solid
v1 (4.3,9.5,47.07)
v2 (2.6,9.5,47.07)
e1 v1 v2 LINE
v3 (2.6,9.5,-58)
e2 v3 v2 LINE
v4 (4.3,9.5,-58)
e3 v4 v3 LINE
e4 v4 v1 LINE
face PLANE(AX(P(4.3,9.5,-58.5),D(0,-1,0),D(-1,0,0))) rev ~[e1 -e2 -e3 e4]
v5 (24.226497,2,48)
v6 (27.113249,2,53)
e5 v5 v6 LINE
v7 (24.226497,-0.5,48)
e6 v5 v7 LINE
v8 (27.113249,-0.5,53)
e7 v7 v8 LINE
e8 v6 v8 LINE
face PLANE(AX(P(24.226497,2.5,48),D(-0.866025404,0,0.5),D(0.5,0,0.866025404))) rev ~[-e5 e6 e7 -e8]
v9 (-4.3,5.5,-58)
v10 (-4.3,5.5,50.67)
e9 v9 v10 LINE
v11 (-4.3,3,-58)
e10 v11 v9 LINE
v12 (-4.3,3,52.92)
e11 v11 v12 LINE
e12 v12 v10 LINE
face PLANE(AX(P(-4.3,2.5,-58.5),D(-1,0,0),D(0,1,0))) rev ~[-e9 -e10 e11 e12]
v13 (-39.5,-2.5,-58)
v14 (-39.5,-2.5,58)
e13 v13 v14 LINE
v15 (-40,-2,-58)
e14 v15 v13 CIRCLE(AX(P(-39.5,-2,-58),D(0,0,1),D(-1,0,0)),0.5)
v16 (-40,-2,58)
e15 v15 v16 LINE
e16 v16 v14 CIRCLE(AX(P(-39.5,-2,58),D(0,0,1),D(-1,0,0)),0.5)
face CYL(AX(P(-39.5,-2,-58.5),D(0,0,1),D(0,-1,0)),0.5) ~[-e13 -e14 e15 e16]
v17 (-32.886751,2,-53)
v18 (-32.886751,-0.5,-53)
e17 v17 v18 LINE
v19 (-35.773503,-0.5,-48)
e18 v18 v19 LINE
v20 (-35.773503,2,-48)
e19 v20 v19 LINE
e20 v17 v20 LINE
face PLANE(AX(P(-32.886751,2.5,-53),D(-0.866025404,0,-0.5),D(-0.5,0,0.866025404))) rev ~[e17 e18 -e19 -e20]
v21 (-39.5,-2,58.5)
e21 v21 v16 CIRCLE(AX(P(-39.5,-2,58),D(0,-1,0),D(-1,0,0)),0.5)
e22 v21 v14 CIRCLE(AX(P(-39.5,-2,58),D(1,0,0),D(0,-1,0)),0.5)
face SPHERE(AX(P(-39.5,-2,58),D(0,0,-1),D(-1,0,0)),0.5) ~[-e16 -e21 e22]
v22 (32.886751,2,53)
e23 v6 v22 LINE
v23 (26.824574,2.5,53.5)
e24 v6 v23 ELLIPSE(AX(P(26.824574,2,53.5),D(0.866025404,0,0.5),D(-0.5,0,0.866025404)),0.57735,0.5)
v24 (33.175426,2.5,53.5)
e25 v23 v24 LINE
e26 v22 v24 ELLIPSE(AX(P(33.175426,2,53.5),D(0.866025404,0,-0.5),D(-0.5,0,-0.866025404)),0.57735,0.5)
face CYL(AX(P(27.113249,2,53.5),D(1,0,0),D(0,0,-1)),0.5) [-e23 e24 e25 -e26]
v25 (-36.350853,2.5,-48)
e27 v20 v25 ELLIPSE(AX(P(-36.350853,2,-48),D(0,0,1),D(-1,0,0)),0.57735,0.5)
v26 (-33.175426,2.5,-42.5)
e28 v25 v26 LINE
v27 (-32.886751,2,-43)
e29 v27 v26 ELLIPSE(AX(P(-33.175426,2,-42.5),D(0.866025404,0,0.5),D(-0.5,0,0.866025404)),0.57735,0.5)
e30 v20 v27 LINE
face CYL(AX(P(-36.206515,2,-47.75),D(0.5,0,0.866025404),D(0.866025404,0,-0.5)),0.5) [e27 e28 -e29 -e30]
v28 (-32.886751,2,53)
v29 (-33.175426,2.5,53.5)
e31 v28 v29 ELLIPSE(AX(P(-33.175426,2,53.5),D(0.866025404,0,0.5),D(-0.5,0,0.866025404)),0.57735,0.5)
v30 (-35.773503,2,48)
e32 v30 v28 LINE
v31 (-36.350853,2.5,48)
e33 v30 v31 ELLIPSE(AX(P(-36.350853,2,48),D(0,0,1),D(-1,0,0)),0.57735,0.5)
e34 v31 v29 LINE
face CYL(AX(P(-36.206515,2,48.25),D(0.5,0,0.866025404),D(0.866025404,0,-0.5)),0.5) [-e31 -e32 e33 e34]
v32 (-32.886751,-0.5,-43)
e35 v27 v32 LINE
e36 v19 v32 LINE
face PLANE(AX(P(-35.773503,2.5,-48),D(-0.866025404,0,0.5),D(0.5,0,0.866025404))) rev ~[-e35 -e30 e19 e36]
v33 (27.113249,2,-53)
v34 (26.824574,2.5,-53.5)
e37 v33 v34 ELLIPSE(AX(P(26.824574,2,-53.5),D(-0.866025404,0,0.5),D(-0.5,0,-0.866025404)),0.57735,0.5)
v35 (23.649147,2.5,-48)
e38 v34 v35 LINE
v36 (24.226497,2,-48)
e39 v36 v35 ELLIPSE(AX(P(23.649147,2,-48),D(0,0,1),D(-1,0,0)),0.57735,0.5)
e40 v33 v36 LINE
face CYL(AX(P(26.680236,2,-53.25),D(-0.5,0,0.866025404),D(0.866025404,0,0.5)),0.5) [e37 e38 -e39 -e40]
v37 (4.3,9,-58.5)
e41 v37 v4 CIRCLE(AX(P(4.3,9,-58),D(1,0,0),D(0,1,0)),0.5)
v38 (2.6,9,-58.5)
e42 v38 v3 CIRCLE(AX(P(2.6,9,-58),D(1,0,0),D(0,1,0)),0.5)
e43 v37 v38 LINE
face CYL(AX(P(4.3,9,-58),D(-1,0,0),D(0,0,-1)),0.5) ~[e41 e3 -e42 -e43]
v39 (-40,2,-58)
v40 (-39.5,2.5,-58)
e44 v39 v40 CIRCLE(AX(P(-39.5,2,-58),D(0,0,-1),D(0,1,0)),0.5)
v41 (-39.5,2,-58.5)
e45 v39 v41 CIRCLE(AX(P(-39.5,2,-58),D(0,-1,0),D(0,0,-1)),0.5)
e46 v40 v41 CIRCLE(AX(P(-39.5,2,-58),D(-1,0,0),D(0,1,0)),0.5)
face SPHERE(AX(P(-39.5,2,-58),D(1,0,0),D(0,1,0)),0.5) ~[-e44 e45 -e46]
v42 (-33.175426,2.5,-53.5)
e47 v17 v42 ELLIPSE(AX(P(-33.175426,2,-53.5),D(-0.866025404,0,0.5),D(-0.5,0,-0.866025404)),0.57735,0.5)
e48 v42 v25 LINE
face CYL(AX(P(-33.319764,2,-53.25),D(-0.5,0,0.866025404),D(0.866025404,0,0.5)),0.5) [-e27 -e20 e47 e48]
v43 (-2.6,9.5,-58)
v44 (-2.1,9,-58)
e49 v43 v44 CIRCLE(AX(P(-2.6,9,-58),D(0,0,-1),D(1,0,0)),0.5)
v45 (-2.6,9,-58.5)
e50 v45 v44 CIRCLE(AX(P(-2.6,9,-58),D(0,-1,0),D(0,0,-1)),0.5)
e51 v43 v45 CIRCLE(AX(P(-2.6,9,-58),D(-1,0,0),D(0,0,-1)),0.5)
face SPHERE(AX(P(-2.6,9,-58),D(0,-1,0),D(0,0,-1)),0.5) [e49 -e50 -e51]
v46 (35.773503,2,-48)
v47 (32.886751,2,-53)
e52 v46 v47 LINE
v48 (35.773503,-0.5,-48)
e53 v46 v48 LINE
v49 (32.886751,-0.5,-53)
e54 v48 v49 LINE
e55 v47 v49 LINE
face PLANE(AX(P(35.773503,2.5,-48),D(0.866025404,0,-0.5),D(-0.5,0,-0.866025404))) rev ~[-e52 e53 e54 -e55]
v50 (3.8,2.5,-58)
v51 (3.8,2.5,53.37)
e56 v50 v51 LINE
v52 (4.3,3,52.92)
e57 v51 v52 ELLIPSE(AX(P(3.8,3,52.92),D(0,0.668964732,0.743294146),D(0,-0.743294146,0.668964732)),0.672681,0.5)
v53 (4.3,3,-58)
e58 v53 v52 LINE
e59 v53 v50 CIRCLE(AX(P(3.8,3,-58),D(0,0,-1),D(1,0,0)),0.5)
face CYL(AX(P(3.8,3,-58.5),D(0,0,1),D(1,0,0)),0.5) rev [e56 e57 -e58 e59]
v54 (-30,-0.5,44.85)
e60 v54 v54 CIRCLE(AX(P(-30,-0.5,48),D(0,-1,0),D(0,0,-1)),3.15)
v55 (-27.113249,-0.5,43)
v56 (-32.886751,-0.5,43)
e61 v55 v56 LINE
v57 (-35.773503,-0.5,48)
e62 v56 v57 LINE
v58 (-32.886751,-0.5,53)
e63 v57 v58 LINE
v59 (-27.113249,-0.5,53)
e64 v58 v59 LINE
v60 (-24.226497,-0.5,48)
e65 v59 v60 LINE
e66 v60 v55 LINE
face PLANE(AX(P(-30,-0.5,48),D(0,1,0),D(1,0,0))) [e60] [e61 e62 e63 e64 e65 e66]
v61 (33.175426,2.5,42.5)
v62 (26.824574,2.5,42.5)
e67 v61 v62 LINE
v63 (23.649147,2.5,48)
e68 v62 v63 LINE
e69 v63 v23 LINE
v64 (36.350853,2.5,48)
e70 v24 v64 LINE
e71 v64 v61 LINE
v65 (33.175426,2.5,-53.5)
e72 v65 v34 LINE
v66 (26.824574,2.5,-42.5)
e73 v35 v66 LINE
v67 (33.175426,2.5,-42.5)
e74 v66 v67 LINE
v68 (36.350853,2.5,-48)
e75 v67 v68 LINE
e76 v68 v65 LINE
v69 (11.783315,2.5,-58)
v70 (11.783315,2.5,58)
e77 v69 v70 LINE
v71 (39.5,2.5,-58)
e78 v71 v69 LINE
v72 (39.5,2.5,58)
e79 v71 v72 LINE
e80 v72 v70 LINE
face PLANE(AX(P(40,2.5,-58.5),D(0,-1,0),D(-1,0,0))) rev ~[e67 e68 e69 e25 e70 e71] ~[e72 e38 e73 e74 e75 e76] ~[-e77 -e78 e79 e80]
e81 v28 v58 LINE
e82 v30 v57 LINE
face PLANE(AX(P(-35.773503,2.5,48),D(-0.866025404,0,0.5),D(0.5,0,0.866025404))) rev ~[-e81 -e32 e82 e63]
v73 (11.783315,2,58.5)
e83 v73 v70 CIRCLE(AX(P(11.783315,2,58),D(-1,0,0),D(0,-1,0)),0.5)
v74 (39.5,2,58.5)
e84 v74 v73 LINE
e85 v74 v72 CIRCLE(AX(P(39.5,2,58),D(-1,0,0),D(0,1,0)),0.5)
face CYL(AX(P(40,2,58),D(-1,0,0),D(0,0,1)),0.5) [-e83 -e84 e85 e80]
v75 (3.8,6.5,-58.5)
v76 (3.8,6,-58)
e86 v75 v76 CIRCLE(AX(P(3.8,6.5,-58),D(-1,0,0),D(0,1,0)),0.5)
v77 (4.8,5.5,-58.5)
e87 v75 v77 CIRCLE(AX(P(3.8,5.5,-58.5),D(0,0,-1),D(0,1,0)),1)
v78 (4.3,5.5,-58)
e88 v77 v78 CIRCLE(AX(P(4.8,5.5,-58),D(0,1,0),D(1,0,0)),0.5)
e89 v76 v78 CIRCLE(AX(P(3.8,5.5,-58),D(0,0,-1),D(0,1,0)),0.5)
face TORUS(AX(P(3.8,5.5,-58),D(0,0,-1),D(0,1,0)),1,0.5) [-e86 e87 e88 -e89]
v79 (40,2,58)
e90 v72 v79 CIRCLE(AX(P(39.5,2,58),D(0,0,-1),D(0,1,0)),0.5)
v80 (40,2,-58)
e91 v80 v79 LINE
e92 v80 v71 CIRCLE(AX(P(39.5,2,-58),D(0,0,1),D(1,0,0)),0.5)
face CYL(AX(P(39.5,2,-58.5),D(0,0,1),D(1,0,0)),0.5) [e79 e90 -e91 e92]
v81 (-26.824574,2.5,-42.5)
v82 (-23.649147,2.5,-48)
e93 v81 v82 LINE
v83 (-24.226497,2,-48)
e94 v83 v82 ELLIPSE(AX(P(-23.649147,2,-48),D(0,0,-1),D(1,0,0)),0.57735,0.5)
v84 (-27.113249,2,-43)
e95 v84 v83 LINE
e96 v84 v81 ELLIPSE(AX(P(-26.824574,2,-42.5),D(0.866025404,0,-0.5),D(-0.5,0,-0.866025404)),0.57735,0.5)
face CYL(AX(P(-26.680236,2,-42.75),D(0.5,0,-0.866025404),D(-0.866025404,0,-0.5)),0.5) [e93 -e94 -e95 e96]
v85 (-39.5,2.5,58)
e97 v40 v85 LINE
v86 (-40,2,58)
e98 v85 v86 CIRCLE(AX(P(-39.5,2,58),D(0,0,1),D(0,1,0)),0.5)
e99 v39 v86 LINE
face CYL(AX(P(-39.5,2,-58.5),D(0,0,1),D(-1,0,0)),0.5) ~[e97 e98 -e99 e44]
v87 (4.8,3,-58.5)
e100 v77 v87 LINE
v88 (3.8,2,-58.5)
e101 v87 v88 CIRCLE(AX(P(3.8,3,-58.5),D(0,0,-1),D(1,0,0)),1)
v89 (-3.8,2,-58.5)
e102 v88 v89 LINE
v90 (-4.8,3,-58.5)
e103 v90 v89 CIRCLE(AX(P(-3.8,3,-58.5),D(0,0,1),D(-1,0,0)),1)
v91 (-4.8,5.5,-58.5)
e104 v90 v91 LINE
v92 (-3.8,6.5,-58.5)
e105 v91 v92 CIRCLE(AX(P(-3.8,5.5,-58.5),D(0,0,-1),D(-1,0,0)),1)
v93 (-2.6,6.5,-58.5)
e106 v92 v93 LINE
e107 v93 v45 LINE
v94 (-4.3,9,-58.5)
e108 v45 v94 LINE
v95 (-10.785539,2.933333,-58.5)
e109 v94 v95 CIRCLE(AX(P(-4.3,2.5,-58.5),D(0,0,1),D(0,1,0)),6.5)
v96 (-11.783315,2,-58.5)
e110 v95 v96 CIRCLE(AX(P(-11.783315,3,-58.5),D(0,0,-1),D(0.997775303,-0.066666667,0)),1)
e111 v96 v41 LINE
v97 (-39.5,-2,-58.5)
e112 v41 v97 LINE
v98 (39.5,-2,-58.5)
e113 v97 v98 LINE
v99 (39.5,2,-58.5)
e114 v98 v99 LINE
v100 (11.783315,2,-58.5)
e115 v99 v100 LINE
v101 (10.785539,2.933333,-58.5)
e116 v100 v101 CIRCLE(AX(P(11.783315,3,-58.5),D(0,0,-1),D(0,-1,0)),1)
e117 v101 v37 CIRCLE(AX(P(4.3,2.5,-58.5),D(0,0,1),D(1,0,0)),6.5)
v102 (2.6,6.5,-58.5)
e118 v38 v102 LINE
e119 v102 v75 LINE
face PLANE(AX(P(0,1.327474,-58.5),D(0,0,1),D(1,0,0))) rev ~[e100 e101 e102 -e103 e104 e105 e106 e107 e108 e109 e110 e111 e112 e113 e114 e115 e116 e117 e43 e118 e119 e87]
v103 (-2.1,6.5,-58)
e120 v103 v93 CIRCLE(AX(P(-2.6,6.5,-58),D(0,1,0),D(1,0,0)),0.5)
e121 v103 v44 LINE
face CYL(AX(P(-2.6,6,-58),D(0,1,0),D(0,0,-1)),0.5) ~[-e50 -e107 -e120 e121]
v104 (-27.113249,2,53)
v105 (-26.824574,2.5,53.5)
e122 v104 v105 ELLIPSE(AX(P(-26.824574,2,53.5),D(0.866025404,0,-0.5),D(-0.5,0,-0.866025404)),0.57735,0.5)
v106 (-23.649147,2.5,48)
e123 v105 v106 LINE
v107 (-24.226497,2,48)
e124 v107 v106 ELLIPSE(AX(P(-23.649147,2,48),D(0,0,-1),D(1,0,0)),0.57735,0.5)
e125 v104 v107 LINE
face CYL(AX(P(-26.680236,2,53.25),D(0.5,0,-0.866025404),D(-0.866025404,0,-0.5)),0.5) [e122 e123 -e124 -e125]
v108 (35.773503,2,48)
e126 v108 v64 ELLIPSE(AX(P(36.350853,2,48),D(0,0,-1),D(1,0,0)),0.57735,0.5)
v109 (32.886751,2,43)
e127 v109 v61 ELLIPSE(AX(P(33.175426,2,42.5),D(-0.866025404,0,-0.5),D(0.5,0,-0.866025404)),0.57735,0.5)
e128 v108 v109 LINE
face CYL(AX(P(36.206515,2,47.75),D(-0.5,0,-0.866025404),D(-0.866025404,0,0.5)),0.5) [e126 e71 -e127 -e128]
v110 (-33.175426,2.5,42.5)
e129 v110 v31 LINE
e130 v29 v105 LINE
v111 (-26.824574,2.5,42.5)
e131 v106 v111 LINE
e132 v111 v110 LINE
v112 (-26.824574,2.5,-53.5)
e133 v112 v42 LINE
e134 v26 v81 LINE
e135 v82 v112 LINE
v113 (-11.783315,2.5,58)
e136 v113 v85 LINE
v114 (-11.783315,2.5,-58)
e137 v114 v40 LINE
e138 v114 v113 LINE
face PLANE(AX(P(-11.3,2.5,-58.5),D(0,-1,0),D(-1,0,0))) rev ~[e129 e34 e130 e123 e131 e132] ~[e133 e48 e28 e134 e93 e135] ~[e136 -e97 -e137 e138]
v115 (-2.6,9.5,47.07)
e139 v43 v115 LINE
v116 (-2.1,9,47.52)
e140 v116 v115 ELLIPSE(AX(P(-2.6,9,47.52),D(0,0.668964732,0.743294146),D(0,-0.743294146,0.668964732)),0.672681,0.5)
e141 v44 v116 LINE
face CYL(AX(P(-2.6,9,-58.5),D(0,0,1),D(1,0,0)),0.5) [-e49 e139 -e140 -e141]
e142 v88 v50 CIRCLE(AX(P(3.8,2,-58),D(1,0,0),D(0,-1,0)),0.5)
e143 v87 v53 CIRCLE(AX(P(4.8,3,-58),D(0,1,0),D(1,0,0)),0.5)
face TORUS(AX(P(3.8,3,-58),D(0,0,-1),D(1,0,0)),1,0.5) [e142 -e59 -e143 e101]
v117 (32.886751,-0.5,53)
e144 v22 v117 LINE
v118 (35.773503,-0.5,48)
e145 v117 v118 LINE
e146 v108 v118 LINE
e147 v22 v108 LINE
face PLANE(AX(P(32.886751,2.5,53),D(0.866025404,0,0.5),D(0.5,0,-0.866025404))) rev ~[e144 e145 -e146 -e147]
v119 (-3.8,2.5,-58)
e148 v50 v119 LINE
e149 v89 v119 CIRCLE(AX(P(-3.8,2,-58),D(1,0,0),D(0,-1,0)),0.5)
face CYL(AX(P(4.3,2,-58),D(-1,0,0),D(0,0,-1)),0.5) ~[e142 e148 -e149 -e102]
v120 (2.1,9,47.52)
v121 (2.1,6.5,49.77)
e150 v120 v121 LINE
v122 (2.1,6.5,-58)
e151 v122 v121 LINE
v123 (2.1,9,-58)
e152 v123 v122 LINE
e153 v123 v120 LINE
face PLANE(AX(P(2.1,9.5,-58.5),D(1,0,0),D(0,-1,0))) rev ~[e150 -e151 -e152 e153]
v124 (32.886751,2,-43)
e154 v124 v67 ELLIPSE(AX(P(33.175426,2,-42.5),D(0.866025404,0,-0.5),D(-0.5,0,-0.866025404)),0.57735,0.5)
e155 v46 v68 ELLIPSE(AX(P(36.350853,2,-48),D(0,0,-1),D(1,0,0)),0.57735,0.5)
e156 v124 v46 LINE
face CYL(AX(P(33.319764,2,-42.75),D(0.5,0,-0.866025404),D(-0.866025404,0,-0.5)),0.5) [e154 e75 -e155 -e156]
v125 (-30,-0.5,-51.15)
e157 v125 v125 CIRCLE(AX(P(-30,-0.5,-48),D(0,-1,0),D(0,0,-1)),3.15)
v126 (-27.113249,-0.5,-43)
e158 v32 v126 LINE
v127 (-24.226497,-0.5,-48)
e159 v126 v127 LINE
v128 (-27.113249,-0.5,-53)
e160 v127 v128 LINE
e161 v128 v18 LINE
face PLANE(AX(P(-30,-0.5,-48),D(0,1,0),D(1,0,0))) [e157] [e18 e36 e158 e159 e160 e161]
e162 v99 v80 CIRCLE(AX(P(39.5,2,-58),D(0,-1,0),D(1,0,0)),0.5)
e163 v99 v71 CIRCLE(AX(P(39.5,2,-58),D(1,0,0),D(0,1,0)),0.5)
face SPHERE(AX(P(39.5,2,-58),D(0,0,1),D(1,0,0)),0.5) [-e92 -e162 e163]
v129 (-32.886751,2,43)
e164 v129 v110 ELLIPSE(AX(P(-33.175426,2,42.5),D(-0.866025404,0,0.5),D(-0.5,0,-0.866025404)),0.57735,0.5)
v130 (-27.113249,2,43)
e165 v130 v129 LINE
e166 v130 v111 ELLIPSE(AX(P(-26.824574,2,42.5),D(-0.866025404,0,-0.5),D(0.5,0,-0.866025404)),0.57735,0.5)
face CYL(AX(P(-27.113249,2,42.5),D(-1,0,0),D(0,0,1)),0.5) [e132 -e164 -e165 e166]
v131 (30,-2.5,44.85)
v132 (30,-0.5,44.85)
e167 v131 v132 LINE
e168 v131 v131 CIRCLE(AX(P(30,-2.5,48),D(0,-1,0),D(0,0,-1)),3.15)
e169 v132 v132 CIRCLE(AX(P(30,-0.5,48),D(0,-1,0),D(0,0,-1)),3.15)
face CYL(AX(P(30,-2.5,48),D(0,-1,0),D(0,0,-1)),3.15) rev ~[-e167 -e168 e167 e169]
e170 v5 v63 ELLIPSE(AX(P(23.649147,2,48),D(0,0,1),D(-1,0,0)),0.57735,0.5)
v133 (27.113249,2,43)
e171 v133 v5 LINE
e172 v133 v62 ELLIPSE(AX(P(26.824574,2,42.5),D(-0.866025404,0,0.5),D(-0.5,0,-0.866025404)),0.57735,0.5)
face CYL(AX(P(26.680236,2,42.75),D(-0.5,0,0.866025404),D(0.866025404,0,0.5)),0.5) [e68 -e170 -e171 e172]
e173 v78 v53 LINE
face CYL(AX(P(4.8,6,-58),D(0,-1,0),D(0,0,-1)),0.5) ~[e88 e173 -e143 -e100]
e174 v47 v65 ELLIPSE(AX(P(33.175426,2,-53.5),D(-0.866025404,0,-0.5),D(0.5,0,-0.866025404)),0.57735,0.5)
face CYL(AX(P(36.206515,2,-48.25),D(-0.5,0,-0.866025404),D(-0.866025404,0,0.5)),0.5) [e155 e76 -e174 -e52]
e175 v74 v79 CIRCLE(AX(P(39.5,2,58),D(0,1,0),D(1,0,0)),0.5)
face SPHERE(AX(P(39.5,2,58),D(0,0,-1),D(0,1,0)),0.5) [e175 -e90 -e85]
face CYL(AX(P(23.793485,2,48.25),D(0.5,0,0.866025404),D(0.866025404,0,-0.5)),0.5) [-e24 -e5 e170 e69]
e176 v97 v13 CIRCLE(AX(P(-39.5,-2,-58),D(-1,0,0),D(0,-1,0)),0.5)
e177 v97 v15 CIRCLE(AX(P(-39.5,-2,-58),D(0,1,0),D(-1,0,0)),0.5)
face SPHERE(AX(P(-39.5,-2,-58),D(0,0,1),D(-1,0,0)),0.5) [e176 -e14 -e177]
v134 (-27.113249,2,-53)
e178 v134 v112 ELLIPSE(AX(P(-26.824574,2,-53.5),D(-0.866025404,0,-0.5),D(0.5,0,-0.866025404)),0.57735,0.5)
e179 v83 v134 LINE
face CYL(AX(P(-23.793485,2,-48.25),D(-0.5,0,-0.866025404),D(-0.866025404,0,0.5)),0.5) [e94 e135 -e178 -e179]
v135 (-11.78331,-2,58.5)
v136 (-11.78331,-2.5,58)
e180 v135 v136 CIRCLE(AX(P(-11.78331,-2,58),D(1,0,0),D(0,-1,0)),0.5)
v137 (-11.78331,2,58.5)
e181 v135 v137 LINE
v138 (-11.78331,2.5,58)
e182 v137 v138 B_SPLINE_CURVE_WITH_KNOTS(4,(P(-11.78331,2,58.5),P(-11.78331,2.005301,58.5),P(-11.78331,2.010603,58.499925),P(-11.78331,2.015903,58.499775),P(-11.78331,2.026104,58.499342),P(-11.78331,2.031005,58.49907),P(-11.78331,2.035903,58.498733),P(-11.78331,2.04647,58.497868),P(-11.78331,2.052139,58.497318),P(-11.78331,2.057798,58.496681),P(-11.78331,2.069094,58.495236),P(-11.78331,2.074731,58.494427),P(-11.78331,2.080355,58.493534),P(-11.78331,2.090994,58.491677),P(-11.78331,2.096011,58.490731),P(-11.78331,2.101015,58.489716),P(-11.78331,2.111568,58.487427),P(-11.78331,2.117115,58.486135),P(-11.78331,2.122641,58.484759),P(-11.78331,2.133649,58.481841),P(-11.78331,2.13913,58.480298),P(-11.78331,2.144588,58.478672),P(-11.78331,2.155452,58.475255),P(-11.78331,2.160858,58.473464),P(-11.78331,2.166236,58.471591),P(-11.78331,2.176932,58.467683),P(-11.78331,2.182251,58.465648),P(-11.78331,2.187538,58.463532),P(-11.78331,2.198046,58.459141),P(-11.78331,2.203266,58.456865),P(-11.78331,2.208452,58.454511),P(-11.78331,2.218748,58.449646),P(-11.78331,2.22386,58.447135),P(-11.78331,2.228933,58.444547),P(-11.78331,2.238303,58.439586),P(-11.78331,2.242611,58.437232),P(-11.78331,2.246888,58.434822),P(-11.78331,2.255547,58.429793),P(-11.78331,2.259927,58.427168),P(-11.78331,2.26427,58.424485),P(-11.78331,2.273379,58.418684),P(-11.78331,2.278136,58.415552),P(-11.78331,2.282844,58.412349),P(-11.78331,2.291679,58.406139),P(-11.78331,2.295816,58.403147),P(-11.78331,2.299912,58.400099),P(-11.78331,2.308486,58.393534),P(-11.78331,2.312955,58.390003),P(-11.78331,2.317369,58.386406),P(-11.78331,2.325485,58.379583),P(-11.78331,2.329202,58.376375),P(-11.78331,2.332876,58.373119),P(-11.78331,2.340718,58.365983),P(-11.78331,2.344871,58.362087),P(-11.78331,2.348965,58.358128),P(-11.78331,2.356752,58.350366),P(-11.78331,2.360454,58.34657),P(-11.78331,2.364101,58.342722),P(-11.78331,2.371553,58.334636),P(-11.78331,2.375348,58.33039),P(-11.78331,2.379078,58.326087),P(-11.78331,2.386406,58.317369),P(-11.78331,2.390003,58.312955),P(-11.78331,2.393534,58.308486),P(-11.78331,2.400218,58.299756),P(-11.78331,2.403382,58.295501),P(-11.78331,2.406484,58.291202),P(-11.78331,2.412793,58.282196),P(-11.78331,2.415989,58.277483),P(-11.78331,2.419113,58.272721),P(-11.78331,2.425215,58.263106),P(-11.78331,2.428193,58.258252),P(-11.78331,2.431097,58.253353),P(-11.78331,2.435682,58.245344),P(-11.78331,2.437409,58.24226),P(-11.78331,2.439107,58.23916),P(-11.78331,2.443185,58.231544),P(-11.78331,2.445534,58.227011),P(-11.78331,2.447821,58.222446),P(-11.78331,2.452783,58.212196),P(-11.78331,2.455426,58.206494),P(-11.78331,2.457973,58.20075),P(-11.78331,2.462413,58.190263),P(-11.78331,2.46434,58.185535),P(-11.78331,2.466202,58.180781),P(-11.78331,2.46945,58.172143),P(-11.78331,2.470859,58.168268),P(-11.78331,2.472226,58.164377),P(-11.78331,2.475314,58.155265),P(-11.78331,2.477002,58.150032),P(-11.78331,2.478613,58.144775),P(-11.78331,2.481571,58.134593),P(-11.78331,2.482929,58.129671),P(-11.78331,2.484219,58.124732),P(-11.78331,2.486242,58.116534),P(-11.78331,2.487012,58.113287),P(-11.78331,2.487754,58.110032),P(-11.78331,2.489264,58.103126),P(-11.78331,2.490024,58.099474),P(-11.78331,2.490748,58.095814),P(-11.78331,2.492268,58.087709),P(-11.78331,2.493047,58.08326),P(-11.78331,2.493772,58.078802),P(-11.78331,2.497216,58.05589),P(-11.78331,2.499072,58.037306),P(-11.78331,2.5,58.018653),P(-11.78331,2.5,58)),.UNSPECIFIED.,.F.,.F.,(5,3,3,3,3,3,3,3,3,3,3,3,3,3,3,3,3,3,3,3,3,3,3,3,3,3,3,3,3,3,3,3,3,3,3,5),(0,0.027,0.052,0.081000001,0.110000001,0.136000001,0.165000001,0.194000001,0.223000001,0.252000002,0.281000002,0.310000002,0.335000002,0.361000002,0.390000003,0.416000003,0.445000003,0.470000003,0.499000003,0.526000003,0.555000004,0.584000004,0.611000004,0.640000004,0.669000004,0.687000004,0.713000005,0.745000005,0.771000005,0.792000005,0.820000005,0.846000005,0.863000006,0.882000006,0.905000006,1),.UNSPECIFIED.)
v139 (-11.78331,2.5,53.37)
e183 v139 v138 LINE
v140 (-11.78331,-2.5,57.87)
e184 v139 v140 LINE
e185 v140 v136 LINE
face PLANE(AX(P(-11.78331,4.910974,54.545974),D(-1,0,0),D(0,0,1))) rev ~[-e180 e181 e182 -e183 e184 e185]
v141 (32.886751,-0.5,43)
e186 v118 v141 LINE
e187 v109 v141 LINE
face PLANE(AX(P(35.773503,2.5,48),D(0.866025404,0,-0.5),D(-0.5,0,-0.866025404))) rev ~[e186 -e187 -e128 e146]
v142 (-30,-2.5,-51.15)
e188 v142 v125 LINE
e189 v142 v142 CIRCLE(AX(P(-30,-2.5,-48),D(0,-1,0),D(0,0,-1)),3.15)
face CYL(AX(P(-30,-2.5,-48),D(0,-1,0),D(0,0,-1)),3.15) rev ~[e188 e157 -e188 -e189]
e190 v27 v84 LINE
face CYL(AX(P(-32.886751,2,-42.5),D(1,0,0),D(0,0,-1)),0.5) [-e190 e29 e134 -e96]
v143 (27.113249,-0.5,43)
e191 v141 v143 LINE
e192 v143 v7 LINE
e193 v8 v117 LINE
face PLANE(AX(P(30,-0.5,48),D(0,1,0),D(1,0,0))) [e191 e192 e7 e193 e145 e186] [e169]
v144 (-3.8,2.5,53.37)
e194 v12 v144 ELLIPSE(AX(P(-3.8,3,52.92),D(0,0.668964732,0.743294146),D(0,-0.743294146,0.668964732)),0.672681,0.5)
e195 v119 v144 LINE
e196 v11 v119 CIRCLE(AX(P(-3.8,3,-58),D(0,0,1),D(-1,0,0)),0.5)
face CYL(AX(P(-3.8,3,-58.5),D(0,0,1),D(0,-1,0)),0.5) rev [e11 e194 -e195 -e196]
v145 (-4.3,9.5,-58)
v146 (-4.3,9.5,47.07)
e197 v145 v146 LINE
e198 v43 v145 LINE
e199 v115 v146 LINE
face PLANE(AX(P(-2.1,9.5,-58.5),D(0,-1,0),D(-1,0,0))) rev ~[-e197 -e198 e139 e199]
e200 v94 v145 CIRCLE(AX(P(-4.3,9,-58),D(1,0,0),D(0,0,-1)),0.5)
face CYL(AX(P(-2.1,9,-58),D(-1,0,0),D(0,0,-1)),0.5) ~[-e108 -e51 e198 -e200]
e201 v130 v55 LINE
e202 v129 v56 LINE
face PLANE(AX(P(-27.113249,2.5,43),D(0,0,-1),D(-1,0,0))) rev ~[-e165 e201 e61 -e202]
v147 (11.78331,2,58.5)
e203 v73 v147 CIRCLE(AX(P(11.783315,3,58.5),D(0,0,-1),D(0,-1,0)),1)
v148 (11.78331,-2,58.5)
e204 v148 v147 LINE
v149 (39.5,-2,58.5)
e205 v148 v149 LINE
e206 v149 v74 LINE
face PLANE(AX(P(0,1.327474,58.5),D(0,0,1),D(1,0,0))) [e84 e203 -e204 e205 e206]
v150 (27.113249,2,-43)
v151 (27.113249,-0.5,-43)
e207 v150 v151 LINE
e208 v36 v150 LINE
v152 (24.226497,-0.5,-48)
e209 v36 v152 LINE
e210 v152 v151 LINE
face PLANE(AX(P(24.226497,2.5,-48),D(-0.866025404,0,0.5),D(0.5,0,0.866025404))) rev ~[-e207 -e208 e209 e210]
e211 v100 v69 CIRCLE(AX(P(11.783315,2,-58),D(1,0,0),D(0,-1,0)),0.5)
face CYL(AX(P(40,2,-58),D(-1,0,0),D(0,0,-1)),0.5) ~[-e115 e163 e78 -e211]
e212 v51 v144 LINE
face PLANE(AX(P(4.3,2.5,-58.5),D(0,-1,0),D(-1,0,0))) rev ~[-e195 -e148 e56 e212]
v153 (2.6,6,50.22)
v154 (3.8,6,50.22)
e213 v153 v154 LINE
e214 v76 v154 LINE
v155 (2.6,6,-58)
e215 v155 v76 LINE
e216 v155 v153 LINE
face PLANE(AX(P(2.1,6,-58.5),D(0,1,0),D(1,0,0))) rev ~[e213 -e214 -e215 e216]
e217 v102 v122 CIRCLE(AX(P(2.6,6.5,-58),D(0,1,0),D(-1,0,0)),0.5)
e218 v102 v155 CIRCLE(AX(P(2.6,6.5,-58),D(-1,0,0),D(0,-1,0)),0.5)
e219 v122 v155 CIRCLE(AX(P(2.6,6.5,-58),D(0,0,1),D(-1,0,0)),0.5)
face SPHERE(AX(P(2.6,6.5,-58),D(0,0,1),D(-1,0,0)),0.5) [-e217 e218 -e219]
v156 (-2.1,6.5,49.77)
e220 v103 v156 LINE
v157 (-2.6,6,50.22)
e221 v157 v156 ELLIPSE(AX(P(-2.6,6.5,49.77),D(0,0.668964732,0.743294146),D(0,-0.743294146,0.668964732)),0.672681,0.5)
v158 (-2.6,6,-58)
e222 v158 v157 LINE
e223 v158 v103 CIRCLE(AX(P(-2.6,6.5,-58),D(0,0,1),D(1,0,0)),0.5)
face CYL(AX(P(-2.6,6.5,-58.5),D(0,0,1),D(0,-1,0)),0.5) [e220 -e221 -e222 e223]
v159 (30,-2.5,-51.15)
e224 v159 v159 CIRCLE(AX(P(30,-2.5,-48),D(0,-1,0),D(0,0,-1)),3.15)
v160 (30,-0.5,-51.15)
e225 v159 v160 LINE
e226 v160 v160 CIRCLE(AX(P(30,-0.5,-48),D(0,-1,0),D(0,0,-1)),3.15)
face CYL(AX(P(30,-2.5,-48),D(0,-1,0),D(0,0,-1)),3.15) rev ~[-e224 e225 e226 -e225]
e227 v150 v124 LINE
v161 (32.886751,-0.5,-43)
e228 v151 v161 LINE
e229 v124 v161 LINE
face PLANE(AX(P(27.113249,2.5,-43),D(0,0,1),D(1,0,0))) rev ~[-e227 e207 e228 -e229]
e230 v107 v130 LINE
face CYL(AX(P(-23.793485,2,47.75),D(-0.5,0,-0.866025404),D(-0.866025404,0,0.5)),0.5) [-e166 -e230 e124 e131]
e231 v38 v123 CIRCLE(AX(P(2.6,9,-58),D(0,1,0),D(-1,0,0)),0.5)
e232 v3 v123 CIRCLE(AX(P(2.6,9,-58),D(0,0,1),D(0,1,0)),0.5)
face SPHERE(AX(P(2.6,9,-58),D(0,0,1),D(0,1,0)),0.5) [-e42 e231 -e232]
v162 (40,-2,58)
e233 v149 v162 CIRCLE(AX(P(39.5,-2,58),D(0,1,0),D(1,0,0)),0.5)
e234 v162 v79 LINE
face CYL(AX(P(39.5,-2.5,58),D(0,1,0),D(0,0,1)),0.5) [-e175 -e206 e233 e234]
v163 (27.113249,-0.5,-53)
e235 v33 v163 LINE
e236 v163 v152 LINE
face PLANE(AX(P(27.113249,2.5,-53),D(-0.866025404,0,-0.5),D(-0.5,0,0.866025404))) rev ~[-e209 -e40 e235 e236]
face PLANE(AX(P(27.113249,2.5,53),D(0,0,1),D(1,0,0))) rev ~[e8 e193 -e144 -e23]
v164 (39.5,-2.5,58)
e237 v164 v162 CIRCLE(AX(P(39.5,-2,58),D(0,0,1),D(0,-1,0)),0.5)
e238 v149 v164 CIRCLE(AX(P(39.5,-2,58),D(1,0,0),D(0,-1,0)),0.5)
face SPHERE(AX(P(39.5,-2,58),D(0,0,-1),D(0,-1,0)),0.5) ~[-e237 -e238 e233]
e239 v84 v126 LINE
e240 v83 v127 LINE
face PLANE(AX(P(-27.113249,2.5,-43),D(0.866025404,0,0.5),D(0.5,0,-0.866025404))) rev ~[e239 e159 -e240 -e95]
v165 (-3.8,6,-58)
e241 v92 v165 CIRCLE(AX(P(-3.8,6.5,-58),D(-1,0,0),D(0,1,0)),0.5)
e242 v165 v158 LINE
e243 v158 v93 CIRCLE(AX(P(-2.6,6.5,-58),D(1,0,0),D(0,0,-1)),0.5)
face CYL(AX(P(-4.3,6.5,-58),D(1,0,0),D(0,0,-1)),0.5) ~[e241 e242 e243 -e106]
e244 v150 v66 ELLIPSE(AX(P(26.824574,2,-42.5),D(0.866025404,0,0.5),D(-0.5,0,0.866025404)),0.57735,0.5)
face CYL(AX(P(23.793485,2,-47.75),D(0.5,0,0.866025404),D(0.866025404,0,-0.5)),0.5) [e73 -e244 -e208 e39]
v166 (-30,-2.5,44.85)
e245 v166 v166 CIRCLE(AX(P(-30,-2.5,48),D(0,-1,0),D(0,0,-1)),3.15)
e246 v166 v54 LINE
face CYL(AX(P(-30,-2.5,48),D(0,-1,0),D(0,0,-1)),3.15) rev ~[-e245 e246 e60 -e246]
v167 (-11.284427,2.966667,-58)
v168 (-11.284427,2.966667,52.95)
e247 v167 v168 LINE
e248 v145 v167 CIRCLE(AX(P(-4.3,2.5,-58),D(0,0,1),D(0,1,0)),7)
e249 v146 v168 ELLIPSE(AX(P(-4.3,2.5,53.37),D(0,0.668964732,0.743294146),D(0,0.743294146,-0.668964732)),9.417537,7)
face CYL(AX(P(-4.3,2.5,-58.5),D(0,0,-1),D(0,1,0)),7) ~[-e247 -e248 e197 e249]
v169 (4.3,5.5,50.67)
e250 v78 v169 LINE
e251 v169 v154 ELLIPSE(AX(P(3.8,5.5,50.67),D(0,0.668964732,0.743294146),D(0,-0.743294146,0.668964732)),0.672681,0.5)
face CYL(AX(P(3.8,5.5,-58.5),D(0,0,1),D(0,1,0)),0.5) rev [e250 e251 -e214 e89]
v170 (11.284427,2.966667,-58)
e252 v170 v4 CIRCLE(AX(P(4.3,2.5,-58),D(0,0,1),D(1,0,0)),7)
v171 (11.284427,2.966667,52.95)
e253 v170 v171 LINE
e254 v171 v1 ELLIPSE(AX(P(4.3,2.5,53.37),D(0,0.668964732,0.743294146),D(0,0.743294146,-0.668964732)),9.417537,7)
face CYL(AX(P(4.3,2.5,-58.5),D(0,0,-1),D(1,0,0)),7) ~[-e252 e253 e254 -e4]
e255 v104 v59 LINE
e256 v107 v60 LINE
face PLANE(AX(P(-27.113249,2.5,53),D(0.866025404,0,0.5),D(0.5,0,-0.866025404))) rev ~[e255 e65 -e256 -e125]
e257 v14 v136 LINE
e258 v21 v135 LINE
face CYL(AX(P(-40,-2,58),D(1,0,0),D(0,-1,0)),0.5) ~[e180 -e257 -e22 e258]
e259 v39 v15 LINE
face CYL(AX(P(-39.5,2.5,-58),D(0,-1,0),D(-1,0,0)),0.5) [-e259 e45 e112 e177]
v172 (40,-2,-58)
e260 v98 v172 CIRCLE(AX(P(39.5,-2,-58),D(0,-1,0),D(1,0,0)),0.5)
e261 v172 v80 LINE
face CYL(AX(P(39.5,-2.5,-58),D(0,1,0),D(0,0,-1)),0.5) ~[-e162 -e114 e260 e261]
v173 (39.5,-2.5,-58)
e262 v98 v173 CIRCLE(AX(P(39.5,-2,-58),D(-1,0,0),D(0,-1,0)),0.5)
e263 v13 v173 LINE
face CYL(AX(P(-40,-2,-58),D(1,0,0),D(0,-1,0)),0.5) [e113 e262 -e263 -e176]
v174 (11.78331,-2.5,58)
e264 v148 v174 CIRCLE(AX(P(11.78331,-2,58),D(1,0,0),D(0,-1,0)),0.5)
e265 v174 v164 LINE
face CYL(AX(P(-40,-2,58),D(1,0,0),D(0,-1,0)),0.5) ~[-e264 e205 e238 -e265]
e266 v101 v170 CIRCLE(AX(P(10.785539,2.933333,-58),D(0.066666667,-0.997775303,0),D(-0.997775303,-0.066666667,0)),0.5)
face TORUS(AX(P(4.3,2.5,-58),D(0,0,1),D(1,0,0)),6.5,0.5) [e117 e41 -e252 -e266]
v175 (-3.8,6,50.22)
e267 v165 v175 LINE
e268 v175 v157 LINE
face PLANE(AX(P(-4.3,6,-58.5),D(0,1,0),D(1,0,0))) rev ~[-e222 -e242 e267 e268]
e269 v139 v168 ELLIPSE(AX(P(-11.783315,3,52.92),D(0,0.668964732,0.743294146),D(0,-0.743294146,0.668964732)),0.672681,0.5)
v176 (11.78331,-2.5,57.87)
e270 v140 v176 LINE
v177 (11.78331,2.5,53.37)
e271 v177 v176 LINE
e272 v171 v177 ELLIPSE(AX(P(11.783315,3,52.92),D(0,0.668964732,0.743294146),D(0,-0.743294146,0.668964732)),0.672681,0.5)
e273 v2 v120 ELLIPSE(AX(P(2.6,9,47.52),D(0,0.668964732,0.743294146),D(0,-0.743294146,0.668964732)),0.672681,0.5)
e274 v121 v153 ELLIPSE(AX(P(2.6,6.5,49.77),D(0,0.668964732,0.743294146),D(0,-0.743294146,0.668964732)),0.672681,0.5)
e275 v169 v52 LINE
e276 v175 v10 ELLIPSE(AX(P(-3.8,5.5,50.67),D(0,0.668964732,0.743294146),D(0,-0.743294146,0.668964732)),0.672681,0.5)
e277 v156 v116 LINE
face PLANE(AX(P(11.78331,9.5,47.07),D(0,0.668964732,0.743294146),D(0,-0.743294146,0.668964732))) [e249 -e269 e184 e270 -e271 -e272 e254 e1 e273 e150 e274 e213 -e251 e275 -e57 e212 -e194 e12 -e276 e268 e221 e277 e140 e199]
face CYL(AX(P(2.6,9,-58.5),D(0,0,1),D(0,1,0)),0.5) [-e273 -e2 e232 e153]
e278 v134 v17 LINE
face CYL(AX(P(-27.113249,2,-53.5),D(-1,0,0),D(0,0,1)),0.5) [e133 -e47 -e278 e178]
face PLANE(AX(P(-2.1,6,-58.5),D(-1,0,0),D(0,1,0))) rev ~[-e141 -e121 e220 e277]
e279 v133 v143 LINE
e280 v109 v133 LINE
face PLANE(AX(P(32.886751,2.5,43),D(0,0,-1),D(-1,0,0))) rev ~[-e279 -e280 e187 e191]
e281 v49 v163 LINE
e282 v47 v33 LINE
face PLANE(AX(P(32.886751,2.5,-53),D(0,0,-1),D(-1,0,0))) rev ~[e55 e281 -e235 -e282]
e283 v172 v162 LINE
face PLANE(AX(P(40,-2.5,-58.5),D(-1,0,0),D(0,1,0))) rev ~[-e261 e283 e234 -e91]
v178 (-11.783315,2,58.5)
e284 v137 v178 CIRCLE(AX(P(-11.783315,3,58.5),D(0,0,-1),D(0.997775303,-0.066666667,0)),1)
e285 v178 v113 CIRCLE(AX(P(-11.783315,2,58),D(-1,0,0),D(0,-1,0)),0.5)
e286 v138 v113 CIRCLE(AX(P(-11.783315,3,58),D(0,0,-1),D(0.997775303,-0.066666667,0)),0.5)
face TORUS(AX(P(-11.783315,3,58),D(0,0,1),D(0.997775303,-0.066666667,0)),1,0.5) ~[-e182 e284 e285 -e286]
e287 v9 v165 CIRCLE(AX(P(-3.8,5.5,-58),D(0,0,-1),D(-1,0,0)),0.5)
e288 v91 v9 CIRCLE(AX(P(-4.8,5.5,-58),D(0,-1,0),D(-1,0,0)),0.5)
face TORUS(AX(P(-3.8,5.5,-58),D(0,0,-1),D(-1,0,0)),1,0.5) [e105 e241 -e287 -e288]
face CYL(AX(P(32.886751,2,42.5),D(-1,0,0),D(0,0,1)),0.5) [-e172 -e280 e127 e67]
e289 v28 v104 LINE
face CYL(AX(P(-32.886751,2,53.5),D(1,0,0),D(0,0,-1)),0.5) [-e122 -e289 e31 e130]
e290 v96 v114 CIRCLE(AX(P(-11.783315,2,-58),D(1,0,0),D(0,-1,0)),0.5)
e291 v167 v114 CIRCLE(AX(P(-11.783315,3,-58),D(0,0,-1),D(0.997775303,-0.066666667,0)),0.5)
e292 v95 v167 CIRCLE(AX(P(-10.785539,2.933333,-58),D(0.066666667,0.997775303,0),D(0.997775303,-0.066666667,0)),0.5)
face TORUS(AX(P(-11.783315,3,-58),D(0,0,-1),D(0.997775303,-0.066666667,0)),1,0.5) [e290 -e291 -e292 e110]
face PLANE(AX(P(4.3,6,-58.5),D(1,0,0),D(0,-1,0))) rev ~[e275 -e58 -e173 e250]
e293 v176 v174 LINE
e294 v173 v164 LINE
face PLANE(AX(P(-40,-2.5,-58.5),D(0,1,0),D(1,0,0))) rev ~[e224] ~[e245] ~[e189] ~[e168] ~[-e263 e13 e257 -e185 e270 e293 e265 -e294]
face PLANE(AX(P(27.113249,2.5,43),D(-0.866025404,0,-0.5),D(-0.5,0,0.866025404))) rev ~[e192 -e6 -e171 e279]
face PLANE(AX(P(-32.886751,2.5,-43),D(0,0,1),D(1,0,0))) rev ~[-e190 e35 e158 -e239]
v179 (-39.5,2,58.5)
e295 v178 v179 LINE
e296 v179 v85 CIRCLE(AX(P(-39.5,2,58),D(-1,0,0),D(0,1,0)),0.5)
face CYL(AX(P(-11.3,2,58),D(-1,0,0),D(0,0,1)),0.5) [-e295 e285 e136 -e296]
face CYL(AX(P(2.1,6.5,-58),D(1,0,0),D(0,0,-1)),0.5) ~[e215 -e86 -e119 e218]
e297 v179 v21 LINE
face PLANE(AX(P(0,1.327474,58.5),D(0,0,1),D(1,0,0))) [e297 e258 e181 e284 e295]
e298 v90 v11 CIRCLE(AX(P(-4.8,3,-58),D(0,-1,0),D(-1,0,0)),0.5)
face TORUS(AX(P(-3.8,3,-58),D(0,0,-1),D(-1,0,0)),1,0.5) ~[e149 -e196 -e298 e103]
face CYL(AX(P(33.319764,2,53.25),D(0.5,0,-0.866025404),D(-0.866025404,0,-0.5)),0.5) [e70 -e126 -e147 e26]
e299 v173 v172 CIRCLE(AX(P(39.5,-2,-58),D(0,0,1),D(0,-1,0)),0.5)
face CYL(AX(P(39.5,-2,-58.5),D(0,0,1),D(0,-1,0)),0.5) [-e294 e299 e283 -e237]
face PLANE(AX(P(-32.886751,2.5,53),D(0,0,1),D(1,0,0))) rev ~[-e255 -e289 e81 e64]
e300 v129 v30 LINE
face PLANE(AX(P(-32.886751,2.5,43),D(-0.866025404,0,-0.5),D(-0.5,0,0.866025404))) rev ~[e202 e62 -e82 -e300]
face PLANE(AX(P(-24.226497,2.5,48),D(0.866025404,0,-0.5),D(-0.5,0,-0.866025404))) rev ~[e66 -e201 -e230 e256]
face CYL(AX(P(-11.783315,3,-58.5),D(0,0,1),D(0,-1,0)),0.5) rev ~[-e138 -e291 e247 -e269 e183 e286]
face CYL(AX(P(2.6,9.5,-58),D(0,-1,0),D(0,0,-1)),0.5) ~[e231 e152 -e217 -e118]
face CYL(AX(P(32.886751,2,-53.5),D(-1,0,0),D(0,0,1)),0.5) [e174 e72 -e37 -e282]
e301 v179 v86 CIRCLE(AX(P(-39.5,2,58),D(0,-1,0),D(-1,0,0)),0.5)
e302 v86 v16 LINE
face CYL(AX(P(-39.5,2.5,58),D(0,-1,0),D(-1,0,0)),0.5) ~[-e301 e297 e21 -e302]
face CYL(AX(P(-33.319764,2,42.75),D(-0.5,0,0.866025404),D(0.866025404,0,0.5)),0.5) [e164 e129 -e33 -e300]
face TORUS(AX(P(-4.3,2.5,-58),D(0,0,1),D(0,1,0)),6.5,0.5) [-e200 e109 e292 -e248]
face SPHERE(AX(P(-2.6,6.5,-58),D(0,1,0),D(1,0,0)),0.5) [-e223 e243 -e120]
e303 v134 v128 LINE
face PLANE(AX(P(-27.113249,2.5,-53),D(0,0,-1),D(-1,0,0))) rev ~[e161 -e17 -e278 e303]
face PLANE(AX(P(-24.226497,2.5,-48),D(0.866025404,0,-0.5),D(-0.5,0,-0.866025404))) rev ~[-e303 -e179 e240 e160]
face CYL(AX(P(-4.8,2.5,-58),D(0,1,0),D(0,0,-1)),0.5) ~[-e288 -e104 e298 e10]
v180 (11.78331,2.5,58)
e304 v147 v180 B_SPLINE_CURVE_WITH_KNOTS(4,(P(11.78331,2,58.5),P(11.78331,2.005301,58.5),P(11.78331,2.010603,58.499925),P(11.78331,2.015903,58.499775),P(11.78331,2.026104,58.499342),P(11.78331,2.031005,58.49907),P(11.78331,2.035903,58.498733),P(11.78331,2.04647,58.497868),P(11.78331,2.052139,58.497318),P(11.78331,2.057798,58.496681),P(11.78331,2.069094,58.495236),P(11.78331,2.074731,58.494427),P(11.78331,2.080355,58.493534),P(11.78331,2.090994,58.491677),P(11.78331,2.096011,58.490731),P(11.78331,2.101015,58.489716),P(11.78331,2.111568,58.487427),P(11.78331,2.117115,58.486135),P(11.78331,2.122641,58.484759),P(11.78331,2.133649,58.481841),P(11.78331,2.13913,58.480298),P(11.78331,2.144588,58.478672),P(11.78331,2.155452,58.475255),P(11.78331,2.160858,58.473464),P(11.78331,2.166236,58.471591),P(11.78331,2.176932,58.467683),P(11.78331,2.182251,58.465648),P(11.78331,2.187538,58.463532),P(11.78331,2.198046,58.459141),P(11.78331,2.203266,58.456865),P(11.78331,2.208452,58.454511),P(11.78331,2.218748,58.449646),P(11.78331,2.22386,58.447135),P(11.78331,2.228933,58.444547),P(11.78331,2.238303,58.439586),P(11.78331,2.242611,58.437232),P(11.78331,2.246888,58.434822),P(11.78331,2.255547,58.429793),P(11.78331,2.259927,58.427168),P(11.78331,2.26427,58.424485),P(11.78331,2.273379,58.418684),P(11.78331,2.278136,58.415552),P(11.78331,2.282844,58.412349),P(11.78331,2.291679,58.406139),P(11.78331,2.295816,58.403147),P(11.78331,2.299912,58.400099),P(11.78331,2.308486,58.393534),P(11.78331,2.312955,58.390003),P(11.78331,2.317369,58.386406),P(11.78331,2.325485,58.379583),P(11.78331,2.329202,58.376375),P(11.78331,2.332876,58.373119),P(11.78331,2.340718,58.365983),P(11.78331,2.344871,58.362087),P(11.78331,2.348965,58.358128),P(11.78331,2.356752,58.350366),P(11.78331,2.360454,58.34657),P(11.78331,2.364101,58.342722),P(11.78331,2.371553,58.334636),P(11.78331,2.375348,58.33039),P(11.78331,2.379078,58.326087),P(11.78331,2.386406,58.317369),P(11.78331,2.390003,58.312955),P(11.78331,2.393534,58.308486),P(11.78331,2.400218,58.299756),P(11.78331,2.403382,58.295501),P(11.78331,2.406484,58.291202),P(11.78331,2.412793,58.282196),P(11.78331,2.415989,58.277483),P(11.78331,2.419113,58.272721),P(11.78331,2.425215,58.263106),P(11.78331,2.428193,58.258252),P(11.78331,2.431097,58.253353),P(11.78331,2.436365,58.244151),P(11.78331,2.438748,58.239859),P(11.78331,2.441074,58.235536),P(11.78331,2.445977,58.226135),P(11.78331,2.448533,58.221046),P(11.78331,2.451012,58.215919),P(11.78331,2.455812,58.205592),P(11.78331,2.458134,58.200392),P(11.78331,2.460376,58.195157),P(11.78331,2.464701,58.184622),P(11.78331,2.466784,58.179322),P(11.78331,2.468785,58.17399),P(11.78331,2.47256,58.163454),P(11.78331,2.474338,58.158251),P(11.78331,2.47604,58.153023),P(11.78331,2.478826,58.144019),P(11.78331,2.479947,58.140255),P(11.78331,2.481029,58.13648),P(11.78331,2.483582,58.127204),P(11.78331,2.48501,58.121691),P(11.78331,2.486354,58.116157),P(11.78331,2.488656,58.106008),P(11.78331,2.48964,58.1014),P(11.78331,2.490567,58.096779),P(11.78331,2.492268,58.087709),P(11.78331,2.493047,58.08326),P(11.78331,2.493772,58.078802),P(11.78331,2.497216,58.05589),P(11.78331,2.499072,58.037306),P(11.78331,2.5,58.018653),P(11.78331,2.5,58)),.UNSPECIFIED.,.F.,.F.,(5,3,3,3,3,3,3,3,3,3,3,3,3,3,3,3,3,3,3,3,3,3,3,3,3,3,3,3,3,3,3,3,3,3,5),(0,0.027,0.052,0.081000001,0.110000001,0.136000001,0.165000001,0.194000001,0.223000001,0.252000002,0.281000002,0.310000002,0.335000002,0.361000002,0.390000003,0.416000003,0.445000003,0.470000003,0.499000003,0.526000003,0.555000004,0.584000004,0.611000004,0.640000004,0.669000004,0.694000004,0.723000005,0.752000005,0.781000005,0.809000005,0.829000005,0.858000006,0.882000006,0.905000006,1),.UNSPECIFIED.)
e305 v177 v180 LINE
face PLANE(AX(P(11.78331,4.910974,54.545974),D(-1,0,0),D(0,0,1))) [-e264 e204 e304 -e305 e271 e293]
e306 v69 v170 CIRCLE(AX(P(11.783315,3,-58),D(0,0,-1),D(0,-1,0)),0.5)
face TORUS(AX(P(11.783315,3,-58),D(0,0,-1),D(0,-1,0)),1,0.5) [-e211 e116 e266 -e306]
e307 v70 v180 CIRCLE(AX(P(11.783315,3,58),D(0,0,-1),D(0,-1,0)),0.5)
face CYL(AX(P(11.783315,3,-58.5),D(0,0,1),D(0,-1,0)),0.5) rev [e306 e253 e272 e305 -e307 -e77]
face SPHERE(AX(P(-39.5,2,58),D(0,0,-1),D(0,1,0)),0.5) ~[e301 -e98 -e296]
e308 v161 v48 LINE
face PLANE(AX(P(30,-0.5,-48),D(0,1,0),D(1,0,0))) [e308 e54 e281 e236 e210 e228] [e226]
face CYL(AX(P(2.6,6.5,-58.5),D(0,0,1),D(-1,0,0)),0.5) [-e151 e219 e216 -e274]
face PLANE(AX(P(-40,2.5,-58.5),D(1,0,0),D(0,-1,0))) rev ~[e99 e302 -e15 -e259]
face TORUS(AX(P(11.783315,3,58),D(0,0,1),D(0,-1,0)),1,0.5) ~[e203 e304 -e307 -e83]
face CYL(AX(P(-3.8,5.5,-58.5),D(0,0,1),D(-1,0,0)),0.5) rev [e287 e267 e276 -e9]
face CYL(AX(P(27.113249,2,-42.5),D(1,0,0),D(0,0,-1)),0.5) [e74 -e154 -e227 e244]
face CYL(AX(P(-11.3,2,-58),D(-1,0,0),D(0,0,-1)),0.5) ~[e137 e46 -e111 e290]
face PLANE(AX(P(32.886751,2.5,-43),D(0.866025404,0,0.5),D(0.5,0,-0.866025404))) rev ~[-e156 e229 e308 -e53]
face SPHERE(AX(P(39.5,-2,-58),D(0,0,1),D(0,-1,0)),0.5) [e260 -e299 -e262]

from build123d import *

# Parameters (mm, degrees)
BOSS_EXTRUDE1_DEPTH      = 58.5
BOSS_EXTRUDE1_DEPTH_BACK = 58.5
SKETCH2_R                = 3.15
CUT_EXTRUDE1_DEPTH       = 58.5
FILLET1_R                = 0.5
CUT_EXTRUDE2_DEPTH       = 3
LPATTERN1_COUNT          = 2
LPATTERN1_PITCH          = 60
FILLET2_R                = 0.5
CUT_EXTRUDE3_DEPTH       = 13.88331
CUT_EXTRUDE3_DEPTH_BACK  = 9.68331


with BuildPart() as part:
    # Sketch1 → Boss-Extrude1 (new, two sides: drawn at the far end of the back side and taken through both)
    with BuildSketch(Plane.XY.offset(-BOSS_EXTRUDE1_DEPTH_BACK)):
        with BuildLine():
            Line((-40, -2.5), (40, -2.5))
            Line((40, -2.5), (40, 2.5))
            Line((40, 2.5), (11.3, 2.5))
            ThreePointArc((11.3, 2.5), (9.249747468, 7.449747468), (4.3, 9.5))
            Line((4.3, 9.5), (2.1, 9.5))
            Line((2.1, 9.5), (2.1, 6))
            Line((2.1, 6), (4.3, 6))
            Line((4.3, 6), (4.3, 2.5))
            Line((4.3, 2.5), (-4.3, 2.5))
            Line((-4.3, 2.5), (-4.3, 6))
            Line((-4.3, 6), (-2.1, 6))
            Line((-2.1, 6), (-2.1, 9.5))
            Line((-2.1, 9.5), (-4.3, 9.5))
            ThreePointArc((-4.3, 9.5), (-9.249747468, 7.449747468), (-11.3, 2.5))
            Line((-11.3, 2.5), (-40, 2.5))
            Line((-40, 2.5), (-40, -2.5))
        make_face()
    extrude(amount=BOSS_EXTRUDE1_DEPTH + BOSS_EXTRUDE1_DEPTH_BACK)

    # Sketch2 → Cut-Extrude1 (cut)
    with BuildSketch(Plane.XZ.offset(2.5)):
        with Locations(Location((-30, 48, 0), (0, 0, 270))):
            Circle(SKETCH2_R)
        with Locations(Location((30, 48, 0), (0, 0, 270))):
            Circle(SKETCH2_R)
        with Locations(Location((30, -48, 0), (0, 0, 270))):
            Circle(SKETCH2_R)
        with Locations(Location((-30, -48, 0), (0, 0, 270))):
            Circle(SKETCH2_R)
    extrude(amount=-CUT_EXTRUDE1_DEPTH, mode=Mode.SUBTRACT)

    # Fillet1
    fillet1_edges = [part.edges().sort_by_distance(p)[0] for p in [
        (-2.1, 7.75, -58.5),
        (-3.2, 9.5, -58.5),
        (-9.249747468, 7.449747468, -58.5),
        (-25.65, 2.5, -58.5),
        (-4.3, 2.5, 0),
        (4.3, 2.5, 0),
        (4.3, 6, 0),
        (2.1, 6, 0),
        (2.1, 9.5, 0),
        (11.3, 2.5, 0),
        (40, 2.5, 0),
        (40, -2.5, 0),
        (-40, -2.5, 0),
        (-40, 2.5, 0),
        (-11.3, 2.5, 0),
        (-2.1, 9.5, 0),
        (-2.1, 6, 0),
        (-4.3, 6, 0),
        (-40, 0, -58.5),
        (0, -2.5, -58.5),
        (40, 0, -58.5),
        (-3.2, 9.5, 58.5),
        (-25.65, 2.5, 58.5),
        (25.65, 2.5, -58.5),
        (-40, 0, 58.5),
        (25.65, 2.5, 58.5),
        (9.249747468, 7.449747468, 58.5),
        (2.1, 7.75, 58.5),
        (3.2, 6, 58.5),
        (4.3, 4.25, 58.5),
        (0, 2.5, 58.5),
        (9.249747468, 7.449747468, -58.5),
        (-4.3, 4.25, 58.5),
        (-3.2, 6, 58.5),
        (-2.1, 7.75, 58.5),
        (-9.249747468, 7.449747468, 58.5),
        (0, -2.5, 58.5),
        (40, 0, 58.5),
        (3.2, 9.5, 58.5),
        (3.2, 9.5, -58.5),
        (-4.3, 4.25, -58.5),
        (2.1, 7.75, -58.5),
        (3.2, 6, -58.5),
        (4.3, 4.25, -58.5),
        (0, 2.5, -58.5),
        (-30, 2.5, 51.15),
        (30, 2.5, -44.85),
        (-30, 2.5, -44.85),
        (30, 2.5, 51.15),
        (-3.2, 6, -58.5),
    ]]
    fillet(fillet1_edges, radius=FILLET1_R)

    # Sketch3 → Cut-Extrude2 (cut)
    with BuildSketch(Plane(origin=(0, 2.5, 0), x_dir=(1, 0, 0), z_dir=(0, 1, 0))):
        Polygon((-24.226497308, 48), (-27.113248654, 53), (-32.886751346, 53), (-35.773502692, 48), (-32.886751346, 43), (-27.113248654, 43), align=None)
        Polygon((-24.226497308, -48), (-27.113248654, -43), (-32.886751346, -43), (-35.773502692, -48), (-32.886751346, -53), (-27.113248654, -53), align=None)
    cut_extrude2 = extrude(amount=-CUT_EXTRUDE2_DEPTH, mode=Mode.SUBTRACT)

    # LPattern1: Cut-Extrude2 ×2
    with Locations(*[(i * LPATTERN1_PITCH, 0, 0) for i in range(1, LPATTERN1_COUNT)]):
        add(cut_extrude2, mode=Mode.SUBTRACT)

    # Fillet2
    fillet2_edges = [part.edges().sort_by_distance(p)[0] for p in [
        (-25.669872981, 2.5, -45.5),
        (-25.669872981, 2.5, -50.5),
        (-30, 2.5, -53),
        (-34.330127019, 2.5, -50.5),
        (-34.330127019, 2.5, -45.5),
        (-30, 2.5, -43),
        (-25.669872981, 2.5, 50.5),
        (-25.669872981, 2.5, 45.5),
        (-30, 2.5, 43),
        (-34.330127019, 2.5, 45.5),
        (-34.330127019, 2.5, 50.5),
        (-30, 2.5, 53),
        (34.330127019, 2.5, -45.5),
        (34.330127019, 2.5, -50.5),
        (30, 2.5, -53),
        (25.669872981, 2.5, -50.5),
        (25.669872981, 2.5, -45.5),
        (30, 2.5, -43),
        (34.330127019, 2.5, 50.5),
        (34.330127019, 2.5, 45.5),
        (30, 2.5, 43),
        (25.669872981, 2.5, 45.5),
        (25.669872981, 2.5, 50.5),
        (30, 2.5, 53),
    ]]
    fillet(fillet2_edges, radius=FILLET2_R)

    # Sketch6 → Cut-Extrude3 (cut, two sides: drawn at the far end of the back side and taken through both)
    with BuildSketch(Plane.ZY.offset(-2.1).offset(-CUT_EXTRUDE3_DEPTH_BACK)):
        Polygon((47.07, 9.5), (58.5, -3.2), (58.5, 9.5), align=None)
    extrude(amount=CUT_EXTRUDE3_DEPTH + CUT_EXTRUDE3_DEPTH_BACK, mode=Mode.SUBTRACT)


solid = part.part
